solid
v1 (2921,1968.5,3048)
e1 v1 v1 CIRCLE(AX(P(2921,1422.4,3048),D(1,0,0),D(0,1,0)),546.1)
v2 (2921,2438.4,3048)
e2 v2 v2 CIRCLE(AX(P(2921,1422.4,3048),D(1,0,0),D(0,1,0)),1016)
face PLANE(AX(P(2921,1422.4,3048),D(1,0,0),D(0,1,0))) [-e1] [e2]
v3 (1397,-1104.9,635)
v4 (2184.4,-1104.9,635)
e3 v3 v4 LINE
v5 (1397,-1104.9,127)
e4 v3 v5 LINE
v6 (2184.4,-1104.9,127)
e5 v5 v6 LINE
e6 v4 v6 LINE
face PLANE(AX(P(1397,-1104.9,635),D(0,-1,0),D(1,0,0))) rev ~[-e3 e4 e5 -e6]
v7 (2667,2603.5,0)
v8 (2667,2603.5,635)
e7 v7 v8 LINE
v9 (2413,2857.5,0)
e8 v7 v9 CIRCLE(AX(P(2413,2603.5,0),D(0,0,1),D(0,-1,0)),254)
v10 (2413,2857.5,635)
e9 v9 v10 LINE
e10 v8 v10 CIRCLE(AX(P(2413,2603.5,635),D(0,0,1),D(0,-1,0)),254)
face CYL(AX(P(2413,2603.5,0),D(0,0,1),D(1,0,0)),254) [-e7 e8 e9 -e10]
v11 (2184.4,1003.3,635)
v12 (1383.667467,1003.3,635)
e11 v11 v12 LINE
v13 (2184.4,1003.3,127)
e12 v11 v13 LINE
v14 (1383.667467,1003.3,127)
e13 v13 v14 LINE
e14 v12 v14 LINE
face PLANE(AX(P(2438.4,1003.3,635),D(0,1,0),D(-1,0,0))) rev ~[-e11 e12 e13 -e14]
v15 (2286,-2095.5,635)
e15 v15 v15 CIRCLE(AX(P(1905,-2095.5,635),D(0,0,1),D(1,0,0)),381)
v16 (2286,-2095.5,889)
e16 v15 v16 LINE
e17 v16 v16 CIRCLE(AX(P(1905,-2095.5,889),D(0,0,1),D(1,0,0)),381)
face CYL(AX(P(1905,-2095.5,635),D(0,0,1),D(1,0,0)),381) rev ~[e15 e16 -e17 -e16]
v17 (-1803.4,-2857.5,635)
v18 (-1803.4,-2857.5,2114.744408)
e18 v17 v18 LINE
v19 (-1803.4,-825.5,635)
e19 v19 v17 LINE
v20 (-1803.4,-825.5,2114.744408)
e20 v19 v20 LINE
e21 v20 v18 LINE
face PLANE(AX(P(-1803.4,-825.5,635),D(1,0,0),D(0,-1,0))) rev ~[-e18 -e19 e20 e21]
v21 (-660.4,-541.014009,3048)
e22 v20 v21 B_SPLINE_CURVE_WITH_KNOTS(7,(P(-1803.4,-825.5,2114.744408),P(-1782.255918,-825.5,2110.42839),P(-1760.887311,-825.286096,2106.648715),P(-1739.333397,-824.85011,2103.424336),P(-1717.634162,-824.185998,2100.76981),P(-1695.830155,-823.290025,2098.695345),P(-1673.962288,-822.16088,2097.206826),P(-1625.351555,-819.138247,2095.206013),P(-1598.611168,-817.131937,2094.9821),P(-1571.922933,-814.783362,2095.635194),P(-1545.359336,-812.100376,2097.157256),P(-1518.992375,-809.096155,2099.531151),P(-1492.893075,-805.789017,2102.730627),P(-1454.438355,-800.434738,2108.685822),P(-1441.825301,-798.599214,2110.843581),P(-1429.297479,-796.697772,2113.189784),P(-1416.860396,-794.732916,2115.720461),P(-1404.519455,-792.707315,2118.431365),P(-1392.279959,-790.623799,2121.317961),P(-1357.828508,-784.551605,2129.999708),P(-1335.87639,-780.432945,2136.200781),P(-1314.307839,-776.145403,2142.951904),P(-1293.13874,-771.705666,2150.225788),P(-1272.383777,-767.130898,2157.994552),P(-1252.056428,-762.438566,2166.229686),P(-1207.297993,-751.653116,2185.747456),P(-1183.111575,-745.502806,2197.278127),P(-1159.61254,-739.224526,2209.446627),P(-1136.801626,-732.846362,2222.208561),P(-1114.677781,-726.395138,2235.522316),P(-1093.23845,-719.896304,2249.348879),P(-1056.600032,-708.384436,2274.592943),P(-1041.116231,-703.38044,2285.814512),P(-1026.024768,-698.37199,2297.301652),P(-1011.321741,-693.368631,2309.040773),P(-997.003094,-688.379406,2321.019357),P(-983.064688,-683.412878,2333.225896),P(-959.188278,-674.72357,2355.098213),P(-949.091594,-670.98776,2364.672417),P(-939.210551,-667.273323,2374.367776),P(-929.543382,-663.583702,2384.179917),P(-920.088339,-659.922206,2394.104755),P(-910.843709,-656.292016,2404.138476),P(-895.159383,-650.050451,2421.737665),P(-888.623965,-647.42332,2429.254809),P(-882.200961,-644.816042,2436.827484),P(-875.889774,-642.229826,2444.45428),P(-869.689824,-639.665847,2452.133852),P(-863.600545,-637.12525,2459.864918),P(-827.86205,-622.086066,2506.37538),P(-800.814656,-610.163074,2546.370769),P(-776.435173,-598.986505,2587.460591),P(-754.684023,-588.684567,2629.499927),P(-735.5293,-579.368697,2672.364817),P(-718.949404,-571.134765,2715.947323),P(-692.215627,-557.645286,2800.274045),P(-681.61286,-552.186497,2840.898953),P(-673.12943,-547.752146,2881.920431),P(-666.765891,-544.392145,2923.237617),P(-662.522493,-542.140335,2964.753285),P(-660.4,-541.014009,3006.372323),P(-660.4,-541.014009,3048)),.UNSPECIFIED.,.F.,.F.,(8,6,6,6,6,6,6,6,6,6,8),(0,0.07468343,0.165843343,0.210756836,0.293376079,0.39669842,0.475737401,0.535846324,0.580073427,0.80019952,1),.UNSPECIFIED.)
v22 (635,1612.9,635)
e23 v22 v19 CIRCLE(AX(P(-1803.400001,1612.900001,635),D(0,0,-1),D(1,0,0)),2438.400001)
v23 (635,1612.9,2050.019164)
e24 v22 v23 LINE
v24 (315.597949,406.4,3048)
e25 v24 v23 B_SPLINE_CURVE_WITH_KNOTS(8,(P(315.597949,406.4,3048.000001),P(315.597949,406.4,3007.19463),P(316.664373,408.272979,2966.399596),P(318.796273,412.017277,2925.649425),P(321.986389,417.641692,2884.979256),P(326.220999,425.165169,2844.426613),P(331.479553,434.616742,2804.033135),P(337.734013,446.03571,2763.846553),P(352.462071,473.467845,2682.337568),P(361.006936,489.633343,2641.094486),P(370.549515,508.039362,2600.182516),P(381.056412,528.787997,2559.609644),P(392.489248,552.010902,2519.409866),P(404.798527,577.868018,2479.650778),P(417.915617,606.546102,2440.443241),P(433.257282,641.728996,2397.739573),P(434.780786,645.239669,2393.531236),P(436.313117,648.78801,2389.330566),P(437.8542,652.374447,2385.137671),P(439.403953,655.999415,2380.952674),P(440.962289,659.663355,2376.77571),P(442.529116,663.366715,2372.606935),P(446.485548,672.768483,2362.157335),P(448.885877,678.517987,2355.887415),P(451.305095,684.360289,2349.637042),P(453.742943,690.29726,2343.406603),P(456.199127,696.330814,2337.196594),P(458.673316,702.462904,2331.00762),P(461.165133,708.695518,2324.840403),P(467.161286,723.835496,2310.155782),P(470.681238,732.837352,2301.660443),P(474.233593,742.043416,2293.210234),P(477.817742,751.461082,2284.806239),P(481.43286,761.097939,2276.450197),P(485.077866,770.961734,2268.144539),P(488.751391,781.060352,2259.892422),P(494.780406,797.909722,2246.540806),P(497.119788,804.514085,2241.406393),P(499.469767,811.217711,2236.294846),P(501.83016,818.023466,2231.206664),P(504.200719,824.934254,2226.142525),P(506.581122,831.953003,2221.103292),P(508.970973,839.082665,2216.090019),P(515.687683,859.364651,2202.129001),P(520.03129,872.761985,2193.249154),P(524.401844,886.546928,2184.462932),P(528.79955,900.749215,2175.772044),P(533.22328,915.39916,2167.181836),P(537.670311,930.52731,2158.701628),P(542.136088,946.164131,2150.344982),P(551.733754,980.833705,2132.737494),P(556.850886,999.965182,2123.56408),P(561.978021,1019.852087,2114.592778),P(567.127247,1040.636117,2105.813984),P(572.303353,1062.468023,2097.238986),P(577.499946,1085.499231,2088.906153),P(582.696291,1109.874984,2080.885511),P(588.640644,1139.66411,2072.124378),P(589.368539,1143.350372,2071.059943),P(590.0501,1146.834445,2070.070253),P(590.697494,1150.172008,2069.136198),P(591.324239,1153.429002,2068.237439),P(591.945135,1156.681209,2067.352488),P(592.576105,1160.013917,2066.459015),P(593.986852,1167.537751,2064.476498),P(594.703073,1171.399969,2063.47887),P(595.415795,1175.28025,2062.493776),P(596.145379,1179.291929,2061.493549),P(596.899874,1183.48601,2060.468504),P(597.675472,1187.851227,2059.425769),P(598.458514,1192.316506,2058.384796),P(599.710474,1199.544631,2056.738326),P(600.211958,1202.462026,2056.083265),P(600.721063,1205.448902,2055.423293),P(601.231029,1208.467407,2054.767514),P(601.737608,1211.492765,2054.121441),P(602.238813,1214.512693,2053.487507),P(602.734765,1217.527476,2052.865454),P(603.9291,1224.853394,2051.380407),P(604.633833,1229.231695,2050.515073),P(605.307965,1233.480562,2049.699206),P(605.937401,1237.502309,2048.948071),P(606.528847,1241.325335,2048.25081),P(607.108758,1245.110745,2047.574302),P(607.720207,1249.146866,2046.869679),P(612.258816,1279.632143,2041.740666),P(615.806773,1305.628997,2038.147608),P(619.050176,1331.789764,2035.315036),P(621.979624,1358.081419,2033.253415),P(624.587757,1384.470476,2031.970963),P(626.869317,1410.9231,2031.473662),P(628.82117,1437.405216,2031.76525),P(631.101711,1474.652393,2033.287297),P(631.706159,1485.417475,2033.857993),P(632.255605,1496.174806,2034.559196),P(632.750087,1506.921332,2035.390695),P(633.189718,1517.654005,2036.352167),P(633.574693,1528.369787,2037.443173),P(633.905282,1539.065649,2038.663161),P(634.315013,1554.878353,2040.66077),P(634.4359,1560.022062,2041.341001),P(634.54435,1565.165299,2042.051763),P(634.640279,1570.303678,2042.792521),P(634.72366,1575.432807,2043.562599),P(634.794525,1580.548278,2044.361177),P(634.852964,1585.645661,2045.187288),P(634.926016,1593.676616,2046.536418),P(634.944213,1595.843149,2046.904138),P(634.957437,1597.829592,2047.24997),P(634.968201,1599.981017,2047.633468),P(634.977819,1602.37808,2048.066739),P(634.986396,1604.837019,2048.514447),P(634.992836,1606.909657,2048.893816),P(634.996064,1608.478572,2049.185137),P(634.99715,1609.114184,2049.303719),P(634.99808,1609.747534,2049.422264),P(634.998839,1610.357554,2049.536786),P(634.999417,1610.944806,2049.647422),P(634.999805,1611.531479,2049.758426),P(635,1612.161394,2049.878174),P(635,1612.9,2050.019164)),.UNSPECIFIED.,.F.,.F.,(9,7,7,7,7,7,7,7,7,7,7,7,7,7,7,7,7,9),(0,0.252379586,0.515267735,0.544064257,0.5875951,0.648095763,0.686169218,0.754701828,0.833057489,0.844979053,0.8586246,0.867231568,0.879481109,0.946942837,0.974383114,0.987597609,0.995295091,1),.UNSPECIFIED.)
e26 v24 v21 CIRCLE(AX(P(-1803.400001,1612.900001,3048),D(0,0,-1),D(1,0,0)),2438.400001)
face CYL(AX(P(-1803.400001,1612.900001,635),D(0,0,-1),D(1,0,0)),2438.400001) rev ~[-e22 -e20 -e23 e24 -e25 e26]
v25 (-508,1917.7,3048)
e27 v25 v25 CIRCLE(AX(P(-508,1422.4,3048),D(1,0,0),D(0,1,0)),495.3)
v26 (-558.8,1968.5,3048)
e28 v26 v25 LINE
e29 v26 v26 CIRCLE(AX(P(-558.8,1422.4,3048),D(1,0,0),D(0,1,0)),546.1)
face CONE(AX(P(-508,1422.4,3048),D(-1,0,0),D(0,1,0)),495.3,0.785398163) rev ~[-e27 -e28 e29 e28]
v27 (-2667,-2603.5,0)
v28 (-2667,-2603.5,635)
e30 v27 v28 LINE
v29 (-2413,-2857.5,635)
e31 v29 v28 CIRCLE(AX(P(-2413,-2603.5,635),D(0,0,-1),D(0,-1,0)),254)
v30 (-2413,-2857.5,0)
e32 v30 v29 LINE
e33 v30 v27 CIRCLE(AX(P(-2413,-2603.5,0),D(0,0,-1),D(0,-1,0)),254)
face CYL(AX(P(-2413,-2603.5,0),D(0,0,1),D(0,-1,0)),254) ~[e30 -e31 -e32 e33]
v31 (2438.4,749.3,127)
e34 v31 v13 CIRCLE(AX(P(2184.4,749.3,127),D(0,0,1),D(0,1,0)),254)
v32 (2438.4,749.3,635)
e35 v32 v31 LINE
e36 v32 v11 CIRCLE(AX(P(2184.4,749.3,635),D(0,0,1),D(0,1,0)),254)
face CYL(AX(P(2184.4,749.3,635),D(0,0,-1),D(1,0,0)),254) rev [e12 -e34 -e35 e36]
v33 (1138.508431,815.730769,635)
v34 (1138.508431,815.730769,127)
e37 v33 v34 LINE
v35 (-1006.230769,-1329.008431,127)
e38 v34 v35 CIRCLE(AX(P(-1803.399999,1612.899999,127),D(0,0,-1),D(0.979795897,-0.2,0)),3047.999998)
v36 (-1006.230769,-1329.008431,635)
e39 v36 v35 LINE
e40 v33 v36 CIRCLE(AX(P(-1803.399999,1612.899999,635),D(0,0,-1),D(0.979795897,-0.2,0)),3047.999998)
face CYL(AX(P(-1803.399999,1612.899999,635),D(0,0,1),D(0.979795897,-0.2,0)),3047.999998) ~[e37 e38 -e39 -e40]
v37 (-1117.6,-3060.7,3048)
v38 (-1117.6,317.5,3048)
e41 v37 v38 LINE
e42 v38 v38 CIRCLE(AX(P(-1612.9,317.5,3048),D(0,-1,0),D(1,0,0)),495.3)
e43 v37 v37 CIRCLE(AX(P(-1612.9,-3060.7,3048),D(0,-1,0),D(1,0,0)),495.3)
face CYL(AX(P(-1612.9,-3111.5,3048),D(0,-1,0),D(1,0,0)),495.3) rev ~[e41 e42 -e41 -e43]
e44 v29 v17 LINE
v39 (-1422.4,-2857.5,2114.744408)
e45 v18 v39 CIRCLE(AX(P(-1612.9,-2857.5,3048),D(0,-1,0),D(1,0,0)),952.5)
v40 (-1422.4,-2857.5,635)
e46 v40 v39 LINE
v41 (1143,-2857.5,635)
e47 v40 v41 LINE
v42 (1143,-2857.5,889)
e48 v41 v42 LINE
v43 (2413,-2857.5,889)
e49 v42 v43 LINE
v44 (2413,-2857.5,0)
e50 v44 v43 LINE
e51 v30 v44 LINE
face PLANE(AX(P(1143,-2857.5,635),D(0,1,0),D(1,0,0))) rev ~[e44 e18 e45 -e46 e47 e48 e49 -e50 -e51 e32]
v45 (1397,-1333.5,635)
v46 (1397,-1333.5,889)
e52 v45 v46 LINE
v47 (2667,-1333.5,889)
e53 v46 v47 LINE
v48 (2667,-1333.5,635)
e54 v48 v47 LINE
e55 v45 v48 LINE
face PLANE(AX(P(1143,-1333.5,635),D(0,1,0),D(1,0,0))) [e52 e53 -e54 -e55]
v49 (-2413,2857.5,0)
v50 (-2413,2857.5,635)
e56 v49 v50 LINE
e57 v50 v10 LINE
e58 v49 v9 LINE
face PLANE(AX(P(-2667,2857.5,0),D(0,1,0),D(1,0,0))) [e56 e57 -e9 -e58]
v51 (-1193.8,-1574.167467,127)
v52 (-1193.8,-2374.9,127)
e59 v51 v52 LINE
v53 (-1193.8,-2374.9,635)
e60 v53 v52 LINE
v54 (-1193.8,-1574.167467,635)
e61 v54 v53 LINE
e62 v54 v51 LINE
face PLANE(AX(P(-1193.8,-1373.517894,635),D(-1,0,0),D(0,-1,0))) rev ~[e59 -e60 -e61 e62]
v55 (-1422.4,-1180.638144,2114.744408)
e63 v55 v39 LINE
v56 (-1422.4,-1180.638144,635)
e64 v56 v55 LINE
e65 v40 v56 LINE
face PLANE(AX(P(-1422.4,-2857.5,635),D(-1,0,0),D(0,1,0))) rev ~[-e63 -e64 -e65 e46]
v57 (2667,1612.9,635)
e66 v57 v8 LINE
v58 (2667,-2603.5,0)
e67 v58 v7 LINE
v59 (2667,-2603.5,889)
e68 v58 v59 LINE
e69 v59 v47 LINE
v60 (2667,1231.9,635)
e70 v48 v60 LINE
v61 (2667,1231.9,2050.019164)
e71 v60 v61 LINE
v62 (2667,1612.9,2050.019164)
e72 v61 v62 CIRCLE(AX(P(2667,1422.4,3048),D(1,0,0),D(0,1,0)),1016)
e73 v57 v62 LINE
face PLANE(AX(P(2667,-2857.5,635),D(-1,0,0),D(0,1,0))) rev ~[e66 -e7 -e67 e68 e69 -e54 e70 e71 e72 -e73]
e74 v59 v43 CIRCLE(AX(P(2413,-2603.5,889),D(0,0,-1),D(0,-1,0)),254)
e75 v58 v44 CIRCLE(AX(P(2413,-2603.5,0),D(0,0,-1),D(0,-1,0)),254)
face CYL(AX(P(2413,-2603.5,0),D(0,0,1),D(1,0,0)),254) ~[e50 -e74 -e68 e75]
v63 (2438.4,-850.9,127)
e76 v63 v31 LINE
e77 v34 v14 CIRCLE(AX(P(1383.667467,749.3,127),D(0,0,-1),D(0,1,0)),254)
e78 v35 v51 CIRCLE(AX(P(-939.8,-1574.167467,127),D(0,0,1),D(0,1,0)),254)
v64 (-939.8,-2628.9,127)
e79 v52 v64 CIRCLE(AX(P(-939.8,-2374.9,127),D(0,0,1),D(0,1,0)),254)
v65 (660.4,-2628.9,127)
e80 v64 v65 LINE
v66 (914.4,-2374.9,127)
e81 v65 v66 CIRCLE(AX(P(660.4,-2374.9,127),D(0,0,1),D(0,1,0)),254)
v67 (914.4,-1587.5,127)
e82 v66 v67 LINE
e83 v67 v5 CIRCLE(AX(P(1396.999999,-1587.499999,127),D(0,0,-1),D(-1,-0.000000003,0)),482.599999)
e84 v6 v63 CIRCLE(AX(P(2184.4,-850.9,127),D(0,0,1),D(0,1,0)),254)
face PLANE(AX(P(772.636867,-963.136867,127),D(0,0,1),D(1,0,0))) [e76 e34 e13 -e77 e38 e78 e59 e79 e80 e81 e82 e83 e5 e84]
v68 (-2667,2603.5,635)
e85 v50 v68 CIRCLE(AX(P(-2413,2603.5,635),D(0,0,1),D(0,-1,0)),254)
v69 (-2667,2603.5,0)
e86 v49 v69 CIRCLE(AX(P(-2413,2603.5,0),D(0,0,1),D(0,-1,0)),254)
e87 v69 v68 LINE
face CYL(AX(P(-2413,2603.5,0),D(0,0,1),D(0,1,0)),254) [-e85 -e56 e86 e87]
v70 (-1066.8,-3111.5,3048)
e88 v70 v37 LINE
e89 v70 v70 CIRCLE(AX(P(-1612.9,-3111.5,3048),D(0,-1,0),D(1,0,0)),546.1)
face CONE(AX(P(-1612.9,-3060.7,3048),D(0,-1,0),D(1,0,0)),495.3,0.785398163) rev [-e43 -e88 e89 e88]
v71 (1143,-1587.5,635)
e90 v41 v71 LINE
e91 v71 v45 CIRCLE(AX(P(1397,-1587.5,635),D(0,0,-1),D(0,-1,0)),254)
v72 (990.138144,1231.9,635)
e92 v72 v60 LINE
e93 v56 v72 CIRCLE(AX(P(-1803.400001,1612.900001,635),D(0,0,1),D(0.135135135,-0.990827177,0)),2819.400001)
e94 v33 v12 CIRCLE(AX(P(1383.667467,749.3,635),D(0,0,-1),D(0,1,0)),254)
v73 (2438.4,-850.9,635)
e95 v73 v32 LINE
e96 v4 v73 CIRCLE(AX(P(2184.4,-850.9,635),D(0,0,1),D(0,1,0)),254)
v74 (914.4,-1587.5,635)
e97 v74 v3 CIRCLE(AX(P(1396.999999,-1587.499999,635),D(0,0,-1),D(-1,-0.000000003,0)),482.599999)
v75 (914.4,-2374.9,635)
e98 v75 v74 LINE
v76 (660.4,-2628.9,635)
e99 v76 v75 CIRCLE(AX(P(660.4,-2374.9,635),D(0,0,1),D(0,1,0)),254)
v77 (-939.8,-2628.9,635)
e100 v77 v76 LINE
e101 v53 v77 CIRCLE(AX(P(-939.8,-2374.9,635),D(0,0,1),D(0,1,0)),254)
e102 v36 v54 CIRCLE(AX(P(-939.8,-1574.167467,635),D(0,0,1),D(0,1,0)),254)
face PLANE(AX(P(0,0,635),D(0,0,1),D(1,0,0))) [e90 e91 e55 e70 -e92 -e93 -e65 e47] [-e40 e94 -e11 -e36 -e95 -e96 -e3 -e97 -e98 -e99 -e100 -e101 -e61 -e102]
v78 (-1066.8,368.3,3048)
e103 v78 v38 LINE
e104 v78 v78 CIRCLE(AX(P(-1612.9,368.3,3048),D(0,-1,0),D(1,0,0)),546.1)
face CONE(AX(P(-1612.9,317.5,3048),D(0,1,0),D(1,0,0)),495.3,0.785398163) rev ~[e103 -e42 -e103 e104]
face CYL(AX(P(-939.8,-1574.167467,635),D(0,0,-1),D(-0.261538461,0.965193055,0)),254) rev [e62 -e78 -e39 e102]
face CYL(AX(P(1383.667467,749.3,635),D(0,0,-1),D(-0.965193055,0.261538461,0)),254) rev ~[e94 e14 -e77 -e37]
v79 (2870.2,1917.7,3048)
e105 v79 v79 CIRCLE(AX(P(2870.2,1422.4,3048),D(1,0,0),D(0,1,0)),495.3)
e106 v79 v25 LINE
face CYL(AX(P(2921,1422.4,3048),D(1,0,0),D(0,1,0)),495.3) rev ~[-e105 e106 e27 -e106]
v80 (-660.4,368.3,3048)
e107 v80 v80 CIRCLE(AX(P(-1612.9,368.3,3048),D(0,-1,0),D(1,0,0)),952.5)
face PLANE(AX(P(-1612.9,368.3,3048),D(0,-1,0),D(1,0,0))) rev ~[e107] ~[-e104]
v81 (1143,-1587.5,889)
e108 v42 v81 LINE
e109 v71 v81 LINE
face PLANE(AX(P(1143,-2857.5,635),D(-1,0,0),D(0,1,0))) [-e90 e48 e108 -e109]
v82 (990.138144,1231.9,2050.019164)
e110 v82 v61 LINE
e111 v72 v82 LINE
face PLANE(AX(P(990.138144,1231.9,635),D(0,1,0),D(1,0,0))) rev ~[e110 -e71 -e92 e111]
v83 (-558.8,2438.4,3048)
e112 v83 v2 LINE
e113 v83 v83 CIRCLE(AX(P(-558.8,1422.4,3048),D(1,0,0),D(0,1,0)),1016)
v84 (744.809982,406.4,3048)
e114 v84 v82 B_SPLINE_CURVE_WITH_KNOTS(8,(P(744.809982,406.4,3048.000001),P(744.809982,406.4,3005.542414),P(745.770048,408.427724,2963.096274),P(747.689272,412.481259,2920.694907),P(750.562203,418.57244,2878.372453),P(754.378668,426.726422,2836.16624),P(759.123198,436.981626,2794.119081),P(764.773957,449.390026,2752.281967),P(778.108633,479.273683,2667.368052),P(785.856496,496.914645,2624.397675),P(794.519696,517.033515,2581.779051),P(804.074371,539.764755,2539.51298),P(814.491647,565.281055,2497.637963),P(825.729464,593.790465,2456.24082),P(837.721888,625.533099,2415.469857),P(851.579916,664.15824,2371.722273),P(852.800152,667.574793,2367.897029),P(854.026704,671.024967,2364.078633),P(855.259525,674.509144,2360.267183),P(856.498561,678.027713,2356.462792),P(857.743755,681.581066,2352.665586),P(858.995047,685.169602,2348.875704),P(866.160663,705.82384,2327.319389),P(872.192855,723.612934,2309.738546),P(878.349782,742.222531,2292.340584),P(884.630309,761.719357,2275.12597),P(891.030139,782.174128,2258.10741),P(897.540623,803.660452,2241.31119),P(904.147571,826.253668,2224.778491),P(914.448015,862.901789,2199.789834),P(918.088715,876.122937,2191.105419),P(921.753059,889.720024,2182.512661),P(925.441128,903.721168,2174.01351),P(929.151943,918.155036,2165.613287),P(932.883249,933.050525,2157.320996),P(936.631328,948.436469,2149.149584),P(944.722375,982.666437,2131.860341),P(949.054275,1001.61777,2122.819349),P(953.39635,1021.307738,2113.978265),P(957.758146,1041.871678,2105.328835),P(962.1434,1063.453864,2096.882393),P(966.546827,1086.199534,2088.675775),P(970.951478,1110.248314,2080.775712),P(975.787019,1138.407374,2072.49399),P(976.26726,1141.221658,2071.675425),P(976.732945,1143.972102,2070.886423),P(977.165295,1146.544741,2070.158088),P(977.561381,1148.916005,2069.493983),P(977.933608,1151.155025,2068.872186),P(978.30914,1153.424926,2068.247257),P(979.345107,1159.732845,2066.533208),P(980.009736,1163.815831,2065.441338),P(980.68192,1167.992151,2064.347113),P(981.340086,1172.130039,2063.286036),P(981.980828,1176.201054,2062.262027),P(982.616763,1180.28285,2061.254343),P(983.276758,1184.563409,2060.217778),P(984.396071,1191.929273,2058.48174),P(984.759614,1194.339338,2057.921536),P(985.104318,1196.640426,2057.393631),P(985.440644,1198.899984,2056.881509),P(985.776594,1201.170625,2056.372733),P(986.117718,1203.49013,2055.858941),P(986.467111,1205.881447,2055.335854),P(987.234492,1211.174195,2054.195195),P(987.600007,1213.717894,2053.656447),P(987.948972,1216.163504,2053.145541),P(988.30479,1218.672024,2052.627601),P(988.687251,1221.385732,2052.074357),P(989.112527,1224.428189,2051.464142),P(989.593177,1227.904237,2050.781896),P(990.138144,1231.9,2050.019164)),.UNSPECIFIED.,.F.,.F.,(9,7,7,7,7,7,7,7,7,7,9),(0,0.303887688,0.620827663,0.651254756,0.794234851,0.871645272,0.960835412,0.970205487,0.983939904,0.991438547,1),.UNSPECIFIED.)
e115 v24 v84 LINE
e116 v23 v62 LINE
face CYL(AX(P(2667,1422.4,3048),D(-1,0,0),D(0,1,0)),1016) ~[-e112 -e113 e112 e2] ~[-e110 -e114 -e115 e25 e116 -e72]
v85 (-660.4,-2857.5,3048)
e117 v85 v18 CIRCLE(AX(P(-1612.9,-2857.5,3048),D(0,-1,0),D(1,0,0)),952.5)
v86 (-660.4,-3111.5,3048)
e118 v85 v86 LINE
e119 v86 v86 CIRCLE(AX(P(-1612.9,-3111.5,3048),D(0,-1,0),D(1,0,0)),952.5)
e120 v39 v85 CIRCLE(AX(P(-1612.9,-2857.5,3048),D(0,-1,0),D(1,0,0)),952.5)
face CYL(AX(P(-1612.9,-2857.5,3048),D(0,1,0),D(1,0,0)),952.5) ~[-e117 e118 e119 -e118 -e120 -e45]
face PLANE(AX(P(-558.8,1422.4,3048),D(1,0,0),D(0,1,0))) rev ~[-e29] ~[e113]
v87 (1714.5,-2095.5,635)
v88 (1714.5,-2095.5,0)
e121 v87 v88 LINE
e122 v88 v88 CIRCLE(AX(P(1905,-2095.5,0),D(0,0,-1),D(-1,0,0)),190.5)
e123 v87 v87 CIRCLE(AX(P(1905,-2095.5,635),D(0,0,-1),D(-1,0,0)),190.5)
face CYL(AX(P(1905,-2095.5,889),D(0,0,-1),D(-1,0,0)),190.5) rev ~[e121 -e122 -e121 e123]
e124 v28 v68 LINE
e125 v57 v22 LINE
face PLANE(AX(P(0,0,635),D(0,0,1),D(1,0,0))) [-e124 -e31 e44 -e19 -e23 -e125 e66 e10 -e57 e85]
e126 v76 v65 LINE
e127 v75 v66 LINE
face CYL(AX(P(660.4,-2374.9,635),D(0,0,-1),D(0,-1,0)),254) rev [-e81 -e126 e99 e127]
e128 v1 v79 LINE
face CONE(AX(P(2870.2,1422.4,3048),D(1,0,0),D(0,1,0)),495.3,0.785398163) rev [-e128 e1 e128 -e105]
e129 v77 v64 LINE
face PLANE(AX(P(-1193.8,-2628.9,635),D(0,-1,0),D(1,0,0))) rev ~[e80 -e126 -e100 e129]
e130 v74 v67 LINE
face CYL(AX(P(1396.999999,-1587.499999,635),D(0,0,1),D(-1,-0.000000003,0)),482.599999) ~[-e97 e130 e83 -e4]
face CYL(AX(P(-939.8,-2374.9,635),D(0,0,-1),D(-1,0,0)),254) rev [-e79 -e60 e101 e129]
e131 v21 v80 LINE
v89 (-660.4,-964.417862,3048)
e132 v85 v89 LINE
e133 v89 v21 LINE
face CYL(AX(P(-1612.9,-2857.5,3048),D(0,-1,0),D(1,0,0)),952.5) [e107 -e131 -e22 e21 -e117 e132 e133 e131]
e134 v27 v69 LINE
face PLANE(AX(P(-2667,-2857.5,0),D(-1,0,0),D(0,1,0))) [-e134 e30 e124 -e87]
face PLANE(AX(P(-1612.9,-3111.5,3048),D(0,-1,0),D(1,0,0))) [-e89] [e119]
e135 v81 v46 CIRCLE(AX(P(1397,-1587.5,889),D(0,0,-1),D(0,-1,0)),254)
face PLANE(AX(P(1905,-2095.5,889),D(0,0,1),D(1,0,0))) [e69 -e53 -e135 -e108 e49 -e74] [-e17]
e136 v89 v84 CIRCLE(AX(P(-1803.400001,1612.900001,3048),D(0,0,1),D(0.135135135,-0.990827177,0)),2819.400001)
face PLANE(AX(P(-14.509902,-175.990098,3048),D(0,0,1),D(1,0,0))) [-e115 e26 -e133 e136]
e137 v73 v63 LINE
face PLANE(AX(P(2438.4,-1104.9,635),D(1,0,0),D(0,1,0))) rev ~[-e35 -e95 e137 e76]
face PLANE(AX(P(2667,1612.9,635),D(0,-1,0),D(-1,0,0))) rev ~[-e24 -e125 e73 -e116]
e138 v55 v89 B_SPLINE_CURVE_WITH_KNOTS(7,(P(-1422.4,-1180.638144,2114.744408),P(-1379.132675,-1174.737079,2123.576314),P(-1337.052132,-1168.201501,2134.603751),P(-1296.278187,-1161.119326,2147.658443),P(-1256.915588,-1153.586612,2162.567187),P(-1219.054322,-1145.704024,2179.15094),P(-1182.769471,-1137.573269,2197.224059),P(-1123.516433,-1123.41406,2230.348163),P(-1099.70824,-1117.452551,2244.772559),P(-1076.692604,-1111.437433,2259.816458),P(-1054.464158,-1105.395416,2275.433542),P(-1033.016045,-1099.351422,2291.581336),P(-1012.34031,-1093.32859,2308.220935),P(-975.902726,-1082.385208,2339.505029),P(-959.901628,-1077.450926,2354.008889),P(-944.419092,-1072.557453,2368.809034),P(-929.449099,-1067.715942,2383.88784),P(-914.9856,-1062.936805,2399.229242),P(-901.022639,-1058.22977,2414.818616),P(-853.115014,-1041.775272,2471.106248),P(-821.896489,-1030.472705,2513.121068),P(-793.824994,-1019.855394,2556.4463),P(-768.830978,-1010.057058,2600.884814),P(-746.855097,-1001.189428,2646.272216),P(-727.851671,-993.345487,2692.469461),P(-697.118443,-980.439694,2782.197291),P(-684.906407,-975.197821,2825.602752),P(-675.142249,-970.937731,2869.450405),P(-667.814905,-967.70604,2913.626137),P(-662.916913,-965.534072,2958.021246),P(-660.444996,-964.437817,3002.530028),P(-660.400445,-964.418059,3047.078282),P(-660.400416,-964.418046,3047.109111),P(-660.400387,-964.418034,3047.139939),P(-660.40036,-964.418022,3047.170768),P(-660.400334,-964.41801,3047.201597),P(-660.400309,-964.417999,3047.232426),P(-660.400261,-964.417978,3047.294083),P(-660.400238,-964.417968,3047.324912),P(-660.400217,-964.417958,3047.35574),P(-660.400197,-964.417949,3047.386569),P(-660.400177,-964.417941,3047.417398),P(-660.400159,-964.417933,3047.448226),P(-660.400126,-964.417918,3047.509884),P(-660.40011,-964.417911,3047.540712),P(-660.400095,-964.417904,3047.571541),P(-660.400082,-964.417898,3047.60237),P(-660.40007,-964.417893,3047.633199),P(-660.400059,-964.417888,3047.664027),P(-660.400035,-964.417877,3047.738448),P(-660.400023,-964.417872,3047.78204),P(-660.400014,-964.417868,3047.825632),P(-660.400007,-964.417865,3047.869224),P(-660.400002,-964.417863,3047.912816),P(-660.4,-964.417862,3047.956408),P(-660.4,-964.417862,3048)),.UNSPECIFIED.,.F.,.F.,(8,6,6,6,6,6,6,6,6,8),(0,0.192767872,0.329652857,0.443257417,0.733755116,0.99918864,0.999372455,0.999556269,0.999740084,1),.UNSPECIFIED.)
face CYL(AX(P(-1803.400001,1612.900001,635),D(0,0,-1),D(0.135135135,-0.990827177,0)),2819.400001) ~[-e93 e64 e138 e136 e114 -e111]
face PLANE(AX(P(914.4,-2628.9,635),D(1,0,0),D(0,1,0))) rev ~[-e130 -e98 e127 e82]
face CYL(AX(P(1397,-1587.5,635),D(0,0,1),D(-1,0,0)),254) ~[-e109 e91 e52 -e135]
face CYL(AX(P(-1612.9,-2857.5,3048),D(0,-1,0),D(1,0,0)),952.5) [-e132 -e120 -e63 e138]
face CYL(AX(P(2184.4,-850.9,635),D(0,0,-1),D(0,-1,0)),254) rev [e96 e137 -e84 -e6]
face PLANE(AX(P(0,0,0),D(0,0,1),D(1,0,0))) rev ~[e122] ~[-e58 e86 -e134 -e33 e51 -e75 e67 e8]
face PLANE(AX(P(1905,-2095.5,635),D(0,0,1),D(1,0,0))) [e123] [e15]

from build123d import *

# Parameters (mm, degrees)
F0_W            = 5334
F0_H            = 5715
F1_DEPTH        = 635
F3_DEPTH        = 2413
F4_R            = 952.5
F5_DEPTH        = 254
F5_DEPTH_BACK   = 3225.8
F6_R            = 1016
F7_DEPTH        = 254
F7_DEPTH_BACK   = 3225.8
F8_W            = 1524
F8_H            = 1524
F9_DEPTH        = 254
F10_R           = 254
F12_DEPTH       = 508
F14_D           = 381
F14_CBORE_D     = 762
F14_CBORE_DEPTH = 254
F15_R           = 254
F16_R           = 495.3
F17_DEPTH       = 5969.001
F18_R           = 495.3
F19_DEPTH       = 5588.001
F20_SIZE        = 50.8
F21_R           = 254


with BuildPart() as f1:
    # F0 (on Top) → F1 (new body)
    with BuildSketch(Plane.XY):
        Rectangle(F0_W, F0_H)
    extrude(amount=F1_DEPTH)

    # F2 (on face) → F3 (join)
    with BuildSketch(Plane.XY.offset(635)):
        with BuildLine():
            Line((-1803.4, -825.5), (-1803.4, -2857.5))
            Line((-1803.4, -2857.5), (-1422.4, -2857.5))
            Line((-1422.4, -2857.5), (-1422.4, -1180.638144))
            ThreePointArc((-1422.4, -1180.638144), (190.216859, -380.716859), (990.138144, 1231.9))
            Line((990.138144, 1231.9), (2667, 1231.9))
            Line((2667, 1231.9), (2667, 1612.9))
            Line((2667, 1612.9), (635, 1612.9))
            ThreePointArc((635, 1612.9), (-79.190825, -111.309175), (-1803.4, -825.5))
        make_face()
    extrude(amount=F3_DEPTH)

    # F4 (on face) → F5 (join, two sides)
    with BuildSketch(Plane.XZ.offset(2857.5)) as f5_sk:
        with Locations((-1612.9, 3048)):
            Circle(F4_R)
    extrude(amount=F5_DEPTH)
    extrude(f5_sk.sketch, amount=-F5_DEPTH_BACK)

    # F6 (on face) → F7 (join, two sides)
    with BuildSketch(Plane.YZ.offset(2667)) as f7_sk:
        with Locations((1422.4, 3048)):
            Circle(F6_R)
    extrude(amount=F7_DEPTH)
    extrude(f7_sk.sketch, amount=-F7_DEPTH_BACK)

    # F8 (on face) → F9 (join)
    with BuildSketch(Plane.XY.offset(635)):
        with Locations((1905, -2095.5)):
            Rectangle(F8_W, F8_H)
    extrude(amount=F9_DEPTH)

    # F10
    f10_edges = [f1.edges().sort_by_distance(p)[0] for p in [
        (1143, -1333.5, 762),
    ]]
    fillet(f10_edges, radius=F10_R)

    # F11 (on face) → F12 (cut)
    with BuildSketch(Plane.XY.offset(635)):
        with BuildLine():
            ThreePointArc((1183.017894, 1003.3), (351.861469, -542.361469), (-1193.8, -1373.517894))
            Line((-1193.8, -1373.517894), (-1193.8, -2628.9))
            Line((-1193.8, -2628.9), (914.4, -2628.9))
            Line((914.4, -2628.9), (914.4, -1587.5))
            ThreePointArc((914.4, -1587.5), (1055.750267, -1246.250267), (1397, -1104.9))
            Line((1397, -1104.9), (2438.4, -1104.9))
            Line((2438.4, -1104.9), (2438.4, 1003.3))
            Line((2438.4, 1003.3), (1183.017894, 1003.3))
        make_face()
    extrude(amount=-F12_DEPTH, mode=Mode.SUBTRACT)

    # F14 (through all)
    with Locations(Plane.XY.offset(889)):
        with Locations((1905, -2095.5)):
            CounterBoreHole(F14_D / 2, F14_CBORE_D / 2, F14_CBORE_DEPTH)

    # F15
    f15_edges = [f1.edges().sort_by_distance(p)[0] for p in [
        (-1193.8, -1373.517894, 381),
        (1183.017894, 1003.3, 381),
        (-1193.8, -2628.9, 381),
        (914.4, -2628.9, 381),
        (2438.4, -1104.9, 381),
        (2438.4, 1003.3, 381),
    ]]
    fillet(f15_edges, radius=F15_R)

    # F16 (on face) → F17 (cut, through all)
    with BuildSketch(Plane.XZ.offset(3111.5)):
        with Locations((-1612.9, 3048)):
            Circle(F16_R)
    extrude(amount=-F17_DEPTH, mode=Mode.SUBTRACT)

    # F18 (on face) → F19 (cut, through all)
    with BuildSketch(Plane.YZ.offset(2921)):
        with Locations((1422.4, 3048)):
            Circle(F18_R)
    extrude(amount=-F19_DEPTH, mode=Mode.SUBTRACT)

    # F20
    f20_edges = [f1.edges().sort_by_distance(p)[0] for p in [
        (-2108.2, -3111.5, 3048),
        (2921, 927.1, 3048),
        (-558.8, 927.1, 3048),
        (-2108.2, 368.3, 3048),
    ]]
    chamfer(f20_edges, length=F20_SIZE)

    # F21
    f21_edges = [f1.edges().sort_by_distance(p)[0] for p in [
        (2667, 2857.5, 317.5),
        (2667, -2857.5, 444.5),
        (-2667, -2857.5, 317.5),
        (-2667, 2857.5, 317.5),
    ]]
    fillet(f21_edges, radius=F21_R)


solid = f1.part
